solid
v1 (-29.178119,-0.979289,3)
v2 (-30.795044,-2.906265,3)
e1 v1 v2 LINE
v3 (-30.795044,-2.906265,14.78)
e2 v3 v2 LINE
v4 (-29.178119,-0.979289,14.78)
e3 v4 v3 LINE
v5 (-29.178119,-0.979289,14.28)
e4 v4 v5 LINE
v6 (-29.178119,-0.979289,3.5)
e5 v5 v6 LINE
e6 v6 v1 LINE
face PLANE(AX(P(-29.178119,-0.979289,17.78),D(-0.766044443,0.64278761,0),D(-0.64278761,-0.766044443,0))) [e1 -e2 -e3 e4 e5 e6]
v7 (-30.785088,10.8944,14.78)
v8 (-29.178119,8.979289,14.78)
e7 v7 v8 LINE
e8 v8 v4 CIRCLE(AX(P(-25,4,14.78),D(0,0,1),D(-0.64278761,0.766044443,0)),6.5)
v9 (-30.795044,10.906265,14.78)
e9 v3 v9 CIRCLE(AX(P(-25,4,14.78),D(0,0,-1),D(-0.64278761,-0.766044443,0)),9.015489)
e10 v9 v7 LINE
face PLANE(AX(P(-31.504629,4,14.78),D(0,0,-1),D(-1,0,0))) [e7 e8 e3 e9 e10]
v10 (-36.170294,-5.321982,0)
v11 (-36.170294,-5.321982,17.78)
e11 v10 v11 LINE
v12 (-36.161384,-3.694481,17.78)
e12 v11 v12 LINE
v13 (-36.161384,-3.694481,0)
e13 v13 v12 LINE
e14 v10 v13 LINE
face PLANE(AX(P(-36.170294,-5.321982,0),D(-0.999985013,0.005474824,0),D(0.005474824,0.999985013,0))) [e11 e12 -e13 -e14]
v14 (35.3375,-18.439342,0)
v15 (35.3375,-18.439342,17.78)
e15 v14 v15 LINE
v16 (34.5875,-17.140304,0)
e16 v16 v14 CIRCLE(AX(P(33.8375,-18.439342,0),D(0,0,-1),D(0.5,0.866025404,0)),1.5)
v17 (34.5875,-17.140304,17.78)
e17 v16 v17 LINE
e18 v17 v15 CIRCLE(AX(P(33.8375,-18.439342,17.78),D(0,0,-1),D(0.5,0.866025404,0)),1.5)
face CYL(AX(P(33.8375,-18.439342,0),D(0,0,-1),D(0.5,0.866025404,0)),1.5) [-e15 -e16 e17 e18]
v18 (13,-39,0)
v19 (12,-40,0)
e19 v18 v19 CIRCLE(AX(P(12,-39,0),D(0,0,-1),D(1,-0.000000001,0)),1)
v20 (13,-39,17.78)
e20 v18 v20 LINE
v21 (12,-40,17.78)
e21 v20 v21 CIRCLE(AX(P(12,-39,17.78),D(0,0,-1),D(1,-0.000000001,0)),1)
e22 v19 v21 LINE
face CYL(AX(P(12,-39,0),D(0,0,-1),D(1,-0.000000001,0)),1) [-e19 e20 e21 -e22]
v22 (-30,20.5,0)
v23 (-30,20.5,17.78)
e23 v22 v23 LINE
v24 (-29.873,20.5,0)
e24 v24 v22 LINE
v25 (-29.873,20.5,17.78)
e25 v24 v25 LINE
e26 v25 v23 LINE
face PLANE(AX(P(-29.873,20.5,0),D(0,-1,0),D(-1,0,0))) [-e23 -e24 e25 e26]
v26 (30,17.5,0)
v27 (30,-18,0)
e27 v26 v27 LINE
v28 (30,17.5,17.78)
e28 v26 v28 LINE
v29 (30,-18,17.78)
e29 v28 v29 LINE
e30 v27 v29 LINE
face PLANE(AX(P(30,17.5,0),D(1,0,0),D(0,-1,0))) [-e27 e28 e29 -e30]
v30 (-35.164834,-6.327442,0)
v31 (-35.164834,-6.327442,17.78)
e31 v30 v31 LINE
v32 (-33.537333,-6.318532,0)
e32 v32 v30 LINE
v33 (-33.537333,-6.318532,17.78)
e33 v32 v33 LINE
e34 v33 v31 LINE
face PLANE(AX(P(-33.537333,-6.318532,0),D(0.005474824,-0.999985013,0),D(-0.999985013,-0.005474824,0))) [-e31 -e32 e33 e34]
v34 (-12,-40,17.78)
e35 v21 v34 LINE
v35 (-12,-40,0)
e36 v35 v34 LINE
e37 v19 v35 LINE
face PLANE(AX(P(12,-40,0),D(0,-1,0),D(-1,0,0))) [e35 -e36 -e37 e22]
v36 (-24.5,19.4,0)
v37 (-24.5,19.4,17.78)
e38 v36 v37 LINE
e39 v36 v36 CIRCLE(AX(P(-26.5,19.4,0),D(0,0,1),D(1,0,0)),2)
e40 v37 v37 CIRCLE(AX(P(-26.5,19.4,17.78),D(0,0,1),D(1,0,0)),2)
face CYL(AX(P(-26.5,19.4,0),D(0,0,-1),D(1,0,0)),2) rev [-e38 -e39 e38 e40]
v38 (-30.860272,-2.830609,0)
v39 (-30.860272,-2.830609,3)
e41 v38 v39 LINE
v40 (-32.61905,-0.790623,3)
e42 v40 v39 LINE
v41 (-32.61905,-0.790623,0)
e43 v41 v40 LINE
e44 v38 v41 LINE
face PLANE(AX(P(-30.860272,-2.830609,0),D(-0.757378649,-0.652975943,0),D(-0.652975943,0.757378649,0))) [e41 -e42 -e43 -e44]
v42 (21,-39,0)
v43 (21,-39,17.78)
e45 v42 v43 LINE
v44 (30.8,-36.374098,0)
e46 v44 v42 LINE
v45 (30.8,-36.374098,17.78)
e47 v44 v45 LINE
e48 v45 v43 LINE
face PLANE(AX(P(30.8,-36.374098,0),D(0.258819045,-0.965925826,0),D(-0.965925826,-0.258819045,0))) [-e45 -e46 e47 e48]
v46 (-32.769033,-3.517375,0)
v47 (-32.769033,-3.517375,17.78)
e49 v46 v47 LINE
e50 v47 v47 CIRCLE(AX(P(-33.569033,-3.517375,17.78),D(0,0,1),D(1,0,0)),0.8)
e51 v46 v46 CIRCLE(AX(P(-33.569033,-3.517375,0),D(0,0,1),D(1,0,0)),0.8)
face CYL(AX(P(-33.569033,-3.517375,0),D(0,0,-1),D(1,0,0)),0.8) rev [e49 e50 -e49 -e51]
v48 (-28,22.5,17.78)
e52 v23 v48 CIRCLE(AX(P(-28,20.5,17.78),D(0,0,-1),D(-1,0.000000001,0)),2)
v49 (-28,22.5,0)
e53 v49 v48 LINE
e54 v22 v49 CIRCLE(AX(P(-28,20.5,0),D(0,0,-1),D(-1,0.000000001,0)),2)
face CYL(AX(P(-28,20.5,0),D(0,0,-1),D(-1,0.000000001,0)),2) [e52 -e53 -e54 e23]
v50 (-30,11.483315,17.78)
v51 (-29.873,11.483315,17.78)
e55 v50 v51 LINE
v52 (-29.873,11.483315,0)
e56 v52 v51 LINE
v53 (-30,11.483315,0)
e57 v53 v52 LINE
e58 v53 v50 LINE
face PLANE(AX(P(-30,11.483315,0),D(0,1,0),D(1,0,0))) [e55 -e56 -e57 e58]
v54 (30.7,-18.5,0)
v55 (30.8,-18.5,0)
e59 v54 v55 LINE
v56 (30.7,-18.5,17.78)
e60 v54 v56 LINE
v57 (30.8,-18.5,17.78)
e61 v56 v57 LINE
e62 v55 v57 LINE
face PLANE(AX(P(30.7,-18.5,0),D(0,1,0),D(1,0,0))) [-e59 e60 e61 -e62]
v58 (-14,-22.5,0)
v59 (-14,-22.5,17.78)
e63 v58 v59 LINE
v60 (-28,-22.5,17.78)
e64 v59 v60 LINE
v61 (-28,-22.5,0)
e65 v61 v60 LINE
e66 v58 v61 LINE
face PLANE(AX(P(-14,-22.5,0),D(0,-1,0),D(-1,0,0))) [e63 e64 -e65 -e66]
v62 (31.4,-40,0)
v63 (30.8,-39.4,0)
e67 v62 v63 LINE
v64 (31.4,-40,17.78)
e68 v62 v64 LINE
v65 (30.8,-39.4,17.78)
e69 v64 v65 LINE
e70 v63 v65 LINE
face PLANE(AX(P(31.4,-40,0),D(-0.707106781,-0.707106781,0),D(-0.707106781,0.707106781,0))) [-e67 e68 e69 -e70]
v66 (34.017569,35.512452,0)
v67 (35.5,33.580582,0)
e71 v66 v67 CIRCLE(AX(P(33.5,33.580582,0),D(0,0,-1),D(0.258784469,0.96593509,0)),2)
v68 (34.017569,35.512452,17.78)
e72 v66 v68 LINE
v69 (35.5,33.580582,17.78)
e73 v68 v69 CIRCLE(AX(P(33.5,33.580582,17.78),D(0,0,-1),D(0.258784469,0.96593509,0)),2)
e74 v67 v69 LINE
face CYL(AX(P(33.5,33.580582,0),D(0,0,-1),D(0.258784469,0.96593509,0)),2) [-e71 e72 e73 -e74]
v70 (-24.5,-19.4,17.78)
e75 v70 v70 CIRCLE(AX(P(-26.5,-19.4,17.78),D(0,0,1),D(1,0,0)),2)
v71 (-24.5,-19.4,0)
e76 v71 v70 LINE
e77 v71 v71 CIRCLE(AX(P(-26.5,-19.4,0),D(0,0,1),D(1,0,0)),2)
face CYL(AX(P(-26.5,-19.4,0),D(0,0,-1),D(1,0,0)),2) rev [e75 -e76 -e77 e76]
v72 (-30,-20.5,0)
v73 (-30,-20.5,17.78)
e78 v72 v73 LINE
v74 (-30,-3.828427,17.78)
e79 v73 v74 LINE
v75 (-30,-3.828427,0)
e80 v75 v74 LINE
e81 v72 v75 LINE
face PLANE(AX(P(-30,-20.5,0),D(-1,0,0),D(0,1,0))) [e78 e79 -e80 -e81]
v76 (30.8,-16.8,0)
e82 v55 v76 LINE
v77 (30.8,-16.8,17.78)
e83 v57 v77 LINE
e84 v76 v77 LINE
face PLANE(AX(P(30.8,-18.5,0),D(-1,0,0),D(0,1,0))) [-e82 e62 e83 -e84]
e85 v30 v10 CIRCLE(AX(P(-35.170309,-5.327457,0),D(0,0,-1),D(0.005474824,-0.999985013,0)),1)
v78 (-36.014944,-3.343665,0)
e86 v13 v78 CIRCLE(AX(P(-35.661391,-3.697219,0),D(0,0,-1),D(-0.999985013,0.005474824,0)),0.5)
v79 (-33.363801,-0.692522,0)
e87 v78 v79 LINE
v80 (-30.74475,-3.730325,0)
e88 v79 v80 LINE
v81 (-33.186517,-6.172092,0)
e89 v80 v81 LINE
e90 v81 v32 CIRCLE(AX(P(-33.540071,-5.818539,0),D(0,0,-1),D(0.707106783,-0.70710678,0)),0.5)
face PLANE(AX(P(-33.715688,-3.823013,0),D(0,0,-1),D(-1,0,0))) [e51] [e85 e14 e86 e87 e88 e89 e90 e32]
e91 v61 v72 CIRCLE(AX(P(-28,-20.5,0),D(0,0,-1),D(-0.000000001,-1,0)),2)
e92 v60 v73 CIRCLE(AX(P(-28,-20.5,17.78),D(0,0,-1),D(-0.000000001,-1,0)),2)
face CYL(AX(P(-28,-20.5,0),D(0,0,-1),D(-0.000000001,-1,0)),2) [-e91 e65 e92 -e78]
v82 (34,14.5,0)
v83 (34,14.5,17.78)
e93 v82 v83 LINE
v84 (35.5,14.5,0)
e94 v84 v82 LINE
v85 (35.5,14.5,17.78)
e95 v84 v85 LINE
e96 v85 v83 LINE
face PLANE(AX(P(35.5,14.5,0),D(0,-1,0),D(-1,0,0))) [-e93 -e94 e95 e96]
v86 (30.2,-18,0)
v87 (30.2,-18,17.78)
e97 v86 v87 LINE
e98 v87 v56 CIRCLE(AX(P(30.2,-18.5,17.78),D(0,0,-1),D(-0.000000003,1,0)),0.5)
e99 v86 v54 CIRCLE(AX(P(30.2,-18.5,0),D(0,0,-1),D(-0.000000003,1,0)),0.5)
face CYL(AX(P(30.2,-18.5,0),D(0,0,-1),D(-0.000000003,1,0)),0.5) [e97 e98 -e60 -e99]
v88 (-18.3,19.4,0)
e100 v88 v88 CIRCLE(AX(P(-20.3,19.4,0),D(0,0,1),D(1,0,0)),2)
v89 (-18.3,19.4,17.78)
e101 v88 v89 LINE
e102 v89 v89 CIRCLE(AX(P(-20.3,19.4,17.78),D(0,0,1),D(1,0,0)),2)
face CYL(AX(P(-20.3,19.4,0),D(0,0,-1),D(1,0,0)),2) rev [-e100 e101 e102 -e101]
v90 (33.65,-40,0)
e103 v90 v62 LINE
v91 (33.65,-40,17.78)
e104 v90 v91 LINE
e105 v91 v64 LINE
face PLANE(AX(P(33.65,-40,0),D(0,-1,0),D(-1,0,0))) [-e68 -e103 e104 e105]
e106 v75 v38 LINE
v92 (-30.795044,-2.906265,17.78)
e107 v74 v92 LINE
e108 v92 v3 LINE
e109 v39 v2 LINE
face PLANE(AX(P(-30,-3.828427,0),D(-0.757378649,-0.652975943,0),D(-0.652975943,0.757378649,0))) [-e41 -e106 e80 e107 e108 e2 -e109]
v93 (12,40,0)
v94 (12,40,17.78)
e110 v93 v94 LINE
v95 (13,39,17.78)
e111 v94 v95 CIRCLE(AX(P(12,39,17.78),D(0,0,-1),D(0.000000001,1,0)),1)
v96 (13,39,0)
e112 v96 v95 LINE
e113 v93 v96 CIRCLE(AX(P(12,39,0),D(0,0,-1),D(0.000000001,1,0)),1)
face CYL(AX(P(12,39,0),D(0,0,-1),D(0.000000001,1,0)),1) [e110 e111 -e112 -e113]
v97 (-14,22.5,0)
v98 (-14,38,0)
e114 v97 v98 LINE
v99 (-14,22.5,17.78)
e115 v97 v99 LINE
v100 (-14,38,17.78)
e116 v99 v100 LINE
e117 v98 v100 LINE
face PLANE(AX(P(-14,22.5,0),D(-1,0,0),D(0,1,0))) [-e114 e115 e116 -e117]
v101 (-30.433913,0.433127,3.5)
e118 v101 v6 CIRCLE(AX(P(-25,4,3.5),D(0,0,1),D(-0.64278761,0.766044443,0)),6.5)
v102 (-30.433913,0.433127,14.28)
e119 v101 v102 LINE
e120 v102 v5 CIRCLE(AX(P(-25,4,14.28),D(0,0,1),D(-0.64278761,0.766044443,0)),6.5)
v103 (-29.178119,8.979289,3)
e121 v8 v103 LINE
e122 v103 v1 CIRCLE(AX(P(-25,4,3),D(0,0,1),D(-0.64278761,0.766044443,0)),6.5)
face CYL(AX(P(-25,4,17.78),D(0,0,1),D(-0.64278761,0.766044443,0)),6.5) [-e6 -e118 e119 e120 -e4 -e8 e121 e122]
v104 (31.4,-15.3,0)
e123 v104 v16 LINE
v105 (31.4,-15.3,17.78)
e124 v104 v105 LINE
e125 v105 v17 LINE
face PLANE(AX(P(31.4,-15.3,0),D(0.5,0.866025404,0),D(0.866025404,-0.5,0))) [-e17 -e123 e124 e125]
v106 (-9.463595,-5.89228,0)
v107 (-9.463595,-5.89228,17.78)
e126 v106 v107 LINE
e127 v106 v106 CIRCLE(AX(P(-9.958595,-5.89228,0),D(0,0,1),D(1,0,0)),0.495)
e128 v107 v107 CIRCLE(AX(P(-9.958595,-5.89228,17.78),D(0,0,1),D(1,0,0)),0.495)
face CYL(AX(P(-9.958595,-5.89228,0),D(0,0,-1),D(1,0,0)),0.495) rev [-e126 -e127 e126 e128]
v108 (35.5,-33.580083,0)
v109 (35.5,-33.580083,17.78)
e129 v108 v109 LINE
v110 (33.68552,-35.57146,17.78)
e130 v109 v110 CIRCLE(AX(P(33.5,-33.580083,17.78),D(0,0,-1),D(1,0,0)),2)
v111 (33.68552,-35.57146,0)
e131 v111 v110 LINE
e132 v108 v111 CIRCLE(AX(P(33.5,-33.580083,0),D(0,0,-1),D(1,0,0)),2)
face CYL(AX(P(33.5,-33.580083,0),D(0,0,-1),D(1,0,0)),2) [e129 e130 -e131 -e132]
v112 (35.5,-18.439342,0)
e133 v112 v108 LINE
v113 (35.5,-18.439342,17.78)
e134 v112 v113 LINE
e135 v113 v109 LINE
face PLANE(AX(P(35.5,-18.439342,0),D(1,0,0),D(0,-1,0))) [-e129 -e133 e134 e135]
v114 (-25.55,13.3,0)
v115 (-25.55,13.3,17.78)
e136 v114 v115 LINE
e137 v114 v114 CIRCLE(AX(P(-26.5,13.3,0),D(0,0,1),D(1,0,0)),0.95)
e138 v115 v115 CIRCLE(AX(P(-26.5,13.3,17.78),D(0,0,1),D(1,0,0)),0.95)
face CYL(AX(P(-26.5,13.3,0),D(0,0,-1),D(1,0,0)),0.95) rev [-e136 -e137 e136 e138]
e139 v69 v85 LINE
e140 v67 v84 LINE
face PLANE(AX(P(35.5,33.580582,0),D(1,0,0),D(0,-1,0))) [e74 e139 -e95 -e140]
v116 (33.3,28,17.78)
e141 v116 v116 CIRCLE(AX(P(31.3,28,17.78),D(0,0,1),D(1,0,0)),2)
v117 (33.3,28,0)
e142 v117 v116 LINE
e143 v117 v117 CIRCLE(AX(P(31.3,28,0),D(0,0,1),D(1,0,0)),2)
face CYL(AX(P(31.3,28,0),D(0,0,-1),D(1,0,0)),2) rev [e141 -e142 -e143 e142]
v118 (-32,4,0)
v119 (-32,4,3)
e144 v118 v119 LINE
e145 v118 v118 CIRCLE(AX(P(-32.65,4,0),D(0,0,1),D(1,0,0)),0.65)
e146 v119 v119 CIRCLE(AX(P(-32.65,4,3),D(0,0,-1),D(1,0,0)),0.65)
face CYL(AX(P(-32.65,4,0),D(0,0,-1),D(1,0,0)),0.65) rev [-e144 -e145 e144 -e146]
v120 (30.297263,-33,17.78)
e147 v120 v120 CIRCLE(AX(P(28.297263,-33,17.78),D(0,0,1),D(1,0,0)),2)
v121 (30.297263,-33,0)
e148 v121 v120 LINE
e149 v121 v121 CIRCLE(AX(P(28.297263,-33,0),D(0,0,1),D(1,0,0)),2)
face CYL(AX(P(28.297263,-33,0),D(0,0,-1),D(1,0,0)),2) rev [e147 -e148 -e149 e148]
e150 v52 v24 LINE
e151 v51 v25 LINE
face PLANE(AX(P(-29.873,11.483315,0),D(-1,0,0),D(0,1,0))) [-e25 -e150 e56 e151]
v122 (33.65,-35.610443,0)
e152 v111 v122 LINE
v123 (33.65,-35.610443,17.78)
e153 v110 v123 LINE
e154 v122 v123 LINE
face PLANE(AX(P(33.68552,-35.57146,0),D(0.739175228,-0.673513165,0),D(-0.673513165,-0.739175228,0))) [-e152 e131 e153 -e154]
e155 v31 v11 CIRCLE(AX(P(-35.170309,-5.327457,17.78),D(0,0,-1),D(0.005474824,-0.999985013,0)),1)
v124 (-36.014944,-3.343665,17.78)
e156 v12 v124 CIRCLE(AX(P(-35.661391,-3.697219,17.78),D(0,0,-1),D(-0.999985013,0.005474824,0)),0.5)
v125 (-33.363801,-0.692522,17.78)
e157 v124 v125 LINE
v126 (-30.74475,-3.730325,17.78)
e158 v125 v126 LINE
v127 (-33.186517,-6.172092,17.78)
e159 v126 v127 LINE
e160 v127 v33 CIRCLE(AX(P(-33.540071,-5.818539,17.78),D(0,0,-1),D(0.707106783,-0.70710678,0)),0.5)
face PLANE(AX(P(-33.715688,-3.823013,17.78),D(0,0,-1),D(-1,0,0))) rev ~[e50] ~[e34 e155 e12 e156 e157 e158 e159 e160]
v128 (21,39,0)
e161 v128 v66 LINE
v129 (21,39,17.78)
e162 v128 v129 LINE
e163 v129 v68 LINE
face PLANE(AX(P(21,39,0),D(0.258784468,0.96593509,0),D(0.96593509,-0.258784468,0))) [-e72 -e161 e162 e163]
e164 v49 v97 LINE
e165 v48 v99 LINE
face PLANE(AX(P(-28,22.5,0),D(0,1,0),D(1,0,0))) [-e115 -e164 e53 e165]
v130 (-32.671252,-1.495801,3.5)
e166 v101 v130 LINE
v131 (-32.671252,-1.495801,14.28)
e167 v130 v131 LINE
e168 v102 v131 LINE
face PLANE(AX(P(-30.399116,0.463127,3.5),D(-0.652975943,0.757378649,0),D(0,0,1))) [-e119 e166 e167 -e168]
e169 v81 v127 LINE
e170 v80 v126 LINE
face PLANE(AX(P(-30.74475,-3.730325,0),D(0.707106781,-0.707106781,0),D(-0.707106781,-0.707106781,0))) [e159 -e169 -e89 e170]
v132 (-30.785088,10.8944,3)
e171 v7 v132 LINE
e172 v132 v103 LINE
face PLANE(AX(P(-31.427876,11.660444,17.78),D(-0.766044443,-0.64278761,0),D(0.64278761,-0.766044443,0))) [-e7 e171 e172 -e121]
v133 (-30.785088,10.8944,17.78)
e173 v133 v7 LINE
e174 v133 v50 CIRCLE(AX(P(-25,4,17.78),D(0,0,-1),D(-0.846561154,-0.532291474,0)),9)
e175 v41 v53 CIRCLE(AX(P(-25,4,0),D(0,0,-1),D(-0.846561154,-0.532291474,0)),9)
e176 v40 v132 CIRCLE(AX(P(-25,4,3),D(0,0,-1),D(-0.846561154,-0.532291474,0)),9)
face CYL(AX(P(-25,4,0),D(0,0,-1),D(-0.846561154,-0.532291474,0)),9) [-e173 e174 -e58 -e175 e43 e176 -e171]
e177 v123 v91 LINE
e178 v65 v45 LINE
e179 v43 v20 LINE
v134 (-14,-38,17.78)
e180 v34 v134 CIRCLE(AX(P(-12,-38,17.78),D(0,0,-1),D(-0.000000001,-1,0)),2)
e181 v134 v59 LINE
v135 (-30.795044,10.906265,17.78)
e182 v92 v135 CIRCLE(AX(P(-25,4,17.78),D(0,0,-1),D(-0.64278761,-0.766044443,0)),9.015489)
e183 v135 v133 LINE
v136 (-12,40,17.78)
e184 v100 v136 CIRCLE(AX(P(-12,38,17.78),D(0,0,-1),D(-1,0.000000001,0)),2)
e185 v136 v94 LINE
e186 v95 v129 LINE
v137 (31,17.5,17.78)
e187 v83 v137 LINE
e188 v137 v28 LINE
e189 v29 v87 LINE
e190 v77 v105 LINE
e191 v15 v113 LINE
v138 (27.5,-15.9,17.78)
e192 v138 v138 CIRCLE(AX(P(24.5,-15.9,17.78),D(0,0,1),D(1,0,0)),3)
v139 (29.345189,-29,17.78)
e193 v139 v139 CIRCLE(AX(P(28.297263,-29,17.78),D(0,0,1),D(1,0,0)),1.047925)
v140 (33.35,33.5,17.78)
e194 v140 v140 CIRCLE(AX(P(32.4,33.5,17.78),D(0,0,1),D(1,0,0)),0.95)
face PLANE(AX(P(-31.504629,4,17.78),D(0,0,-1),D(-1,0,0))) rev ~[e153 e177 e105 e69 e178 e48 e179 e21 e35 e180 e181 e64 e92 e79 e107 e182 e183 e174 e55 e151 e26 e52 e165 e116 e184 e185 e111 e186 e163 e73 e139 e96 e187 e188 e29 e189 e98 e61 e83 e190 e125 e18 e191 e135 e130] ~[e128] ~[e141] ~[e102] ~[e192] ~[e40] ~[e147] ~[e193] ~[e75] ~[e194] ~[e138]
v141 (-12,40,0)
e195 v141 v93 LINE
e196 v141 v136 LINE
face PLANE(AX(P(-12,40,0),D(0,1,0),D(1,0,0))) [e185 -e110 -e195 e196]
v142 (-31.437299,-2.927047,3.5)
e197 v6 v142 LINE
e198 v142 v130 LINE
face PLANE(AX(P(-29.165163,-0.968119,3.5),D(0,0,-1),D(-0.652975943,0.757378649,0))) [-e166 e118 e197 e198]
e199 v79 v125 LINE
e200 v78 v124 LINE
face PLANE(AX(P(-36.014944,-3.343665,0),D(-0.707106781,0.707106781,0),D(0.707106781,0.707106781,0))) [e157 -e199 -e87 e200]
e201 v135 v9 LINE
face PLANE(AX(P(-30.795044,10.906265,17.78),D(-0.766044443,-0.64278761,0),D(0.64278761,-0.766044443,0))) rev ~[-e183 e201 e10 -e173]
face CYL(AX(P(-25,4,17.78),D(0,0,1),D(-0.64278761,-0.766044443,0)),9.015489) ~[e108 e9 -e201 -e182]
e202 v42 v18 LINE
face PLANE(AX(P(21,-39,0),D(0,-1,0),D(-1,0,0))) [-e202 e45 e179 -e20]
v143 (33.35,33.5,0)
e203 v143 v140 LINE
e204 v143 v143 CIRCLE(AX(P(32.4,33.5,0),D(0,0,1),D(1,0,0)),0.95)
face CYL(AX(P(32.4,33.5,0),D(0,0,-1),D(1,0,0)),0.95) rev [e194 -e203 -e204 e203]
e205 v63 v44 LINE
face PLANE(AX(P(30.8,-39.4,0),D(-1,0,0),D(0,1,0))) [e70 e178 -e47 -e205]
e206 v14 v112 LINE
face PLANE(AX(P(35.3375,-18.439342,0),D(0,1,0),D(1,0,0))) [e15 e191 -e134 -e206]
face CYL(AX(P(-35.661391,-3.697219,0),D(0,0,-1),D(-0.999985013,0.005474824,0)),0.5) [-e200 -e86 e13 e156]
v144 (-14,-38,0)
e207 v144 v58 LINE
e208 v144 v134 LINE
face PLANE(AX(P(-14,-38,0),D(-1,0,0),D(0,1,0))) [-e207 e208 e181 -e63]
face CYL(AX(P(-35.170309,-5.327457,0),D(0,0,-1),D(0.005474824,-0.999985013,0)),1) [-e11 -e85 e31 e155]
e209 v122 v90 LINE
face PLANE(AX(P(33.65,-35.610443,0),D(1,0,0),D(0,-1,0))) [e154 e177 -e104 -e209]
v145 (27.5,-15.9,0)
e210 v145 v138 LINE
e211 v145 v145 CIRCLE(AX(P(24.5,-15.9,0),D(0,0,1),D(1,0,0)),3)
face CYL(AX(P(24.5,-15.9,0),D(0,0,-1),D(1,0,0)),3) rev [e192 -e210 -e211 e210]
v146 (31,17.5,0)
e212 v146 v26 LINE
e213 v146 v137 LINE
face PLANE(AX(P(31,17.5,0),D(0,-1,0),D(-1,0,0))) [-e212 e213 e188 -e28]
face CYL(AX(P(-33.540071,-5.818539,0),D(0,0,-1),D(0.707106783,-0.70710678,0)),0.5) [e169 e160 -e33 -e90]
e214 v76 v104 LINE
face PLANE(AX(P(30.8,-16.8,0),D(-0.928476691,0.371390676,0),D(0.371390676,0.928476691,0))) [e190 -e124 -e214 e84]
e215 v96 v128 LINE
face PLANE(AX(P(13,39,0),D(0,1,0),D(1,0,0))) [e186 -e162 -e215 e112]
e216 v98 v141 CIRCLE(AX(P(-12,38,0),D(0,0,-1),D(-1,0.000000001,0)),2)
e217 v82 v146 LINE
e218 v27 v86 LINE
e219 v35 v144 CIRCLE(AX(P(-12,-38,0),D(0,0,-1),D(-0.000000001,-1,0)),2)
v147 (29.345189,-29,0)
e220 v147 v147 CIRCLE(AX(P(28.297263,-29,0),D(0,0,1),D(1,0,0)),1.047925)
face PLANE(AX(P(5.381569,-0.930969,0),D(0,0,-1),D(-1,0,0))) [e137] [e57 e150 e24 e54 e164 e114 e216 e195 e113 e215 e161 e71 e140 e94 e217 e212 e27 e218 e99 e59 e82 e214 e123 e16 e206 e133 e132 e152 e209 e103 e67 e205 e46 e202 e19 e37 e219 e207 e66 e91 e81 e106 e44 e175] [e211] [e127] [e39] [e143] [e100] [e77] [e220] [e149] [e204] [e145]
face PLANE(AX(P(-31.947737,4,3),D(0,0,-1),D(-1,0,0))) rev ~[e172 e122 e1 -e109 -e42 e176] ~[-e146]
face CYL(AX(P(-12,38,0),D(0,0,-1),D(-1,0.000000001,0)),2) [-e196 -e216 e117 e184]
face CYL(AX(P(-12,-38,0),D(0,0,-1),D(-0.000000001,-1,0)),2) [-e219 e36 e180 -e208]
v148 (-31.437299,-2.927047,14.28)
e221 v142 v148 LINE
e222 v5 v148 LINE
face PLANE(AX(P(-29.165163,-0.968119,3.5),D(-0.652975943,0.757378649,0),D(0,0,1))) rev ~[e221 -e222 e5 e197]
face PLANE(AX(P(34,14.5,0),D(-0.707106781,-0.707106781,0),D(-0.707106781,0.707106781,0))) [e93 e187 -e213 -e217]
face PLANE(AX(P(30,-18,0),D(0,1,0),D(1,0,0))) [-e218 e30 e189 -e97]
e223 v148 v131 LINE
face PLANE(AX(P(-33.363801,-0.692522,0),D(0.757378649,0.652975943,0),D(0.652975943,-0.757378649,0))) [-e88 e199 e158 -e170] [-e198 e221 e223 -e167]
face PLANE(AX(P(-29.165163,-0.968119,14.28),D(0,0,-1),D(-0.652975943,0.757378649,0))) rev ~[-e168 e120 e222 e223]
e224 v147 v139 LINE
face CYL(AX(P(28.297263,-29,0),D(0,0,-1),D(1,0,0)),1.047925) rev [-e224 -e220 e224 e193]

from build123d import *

# Parameters (mm, degrees)
SKETCH1_R           = 0.95
SKETCH1_R_2         = 2
SKETCH1_R_3         = 3
SKETCH1_R_4         = 1.047925013
SKETCH1_R_5         = 0.495
SKETCH1_R_6         = 0.65
BOSS_EXTRUDE1_DEPTH = 17.78
CUT_EXTRUDE1_DEPTH  = 14.78
BOSS_EXTRUDE2_DEPTH = 3
SKETCH4_W           = 10.78
SKETCH4_H           = 1.889736425
CUT_EXTRUDE2_DEPTH  = 2.5
SKETCH5_W           = 10.78
SKETCH5_H           = 1.889736425
BOSS_EXTRUDE3_DEPTH = 3
SKETCH6_R           = 0.8
BOSS_EXTRUDE4_DEPTH = 17.78


with BuildPart() as part:
    # Sketch1 → Boss-Extrude1 (new body)
    with BuildSketch(Plane.XY):
        with BuildLine():
            Line((35.5, 14.5), (34, 14.5))
            Line((34, 14.5), (31, 17.5))
            Line((31, 17.5), (30, 17.5))
            Line((30, 17.5), (30, -18))
            Line((30, -18), (30.2, -18))
            ThreePointArc((30.2, -18), (30.553553391, -18.146446609), (30.7, -18.5))
            Line((30.7, -18.5), (30.8, -18.5))
            Line((30.8, -18.5), (30.8, -16.8))
            Line((30.8, -16.8), (31.4, -15.3))
            Line((31.4, -15.3), (34.5875, -17.140303983))
            ThreePointArc((34.5875, -17.140303983), (35.136538106, -17.689342089), (35.3375, -18.439342089))
            Line((35.3375, -18.439342089), (35.5, -18.439342089))
            Line((35.5, -18.439342089), (35.5, -33.580082734))
            ThreePointArc((35.5, -33.580082734), (34.978350458, -34.92710906), (33.685520077, -35.57145972))
            Line((33.685520077, -35.57145972), (33.65, -35.610442716))
            Line((33.65, -35.610442716), (33.65, -40))
            Line((33.65, -40), (31.4, -40))
            Line((31.4, -40), (30.8, -39.4))
            Line((30.8, -39.4), (30.8, -36.374097914))
            Line((30.8, -36.374097914), (21, -39))
            Line((21, -39), (13, -39))
            ThreePointArc((13, -39), (12.707106781, -39.707106781), (12, -40))
            Line((12, -40), (-12, -40))
            ThreePointArc((-12, -40), (-13.414213562, -39.414213562), (-14, -38))
            Line((-14, -38), (-14, -22.5))
            Line((-14, -22.5), (-28, -22.5))
            ThreePointArc((-28, -22.5), (-29.414213562, -21.914213562), (-30, -20.5))
            Line((-30, -20.5), (-30, -3.828427125))
            Line((-30, -3.828427125), (-30.86027165, -2.830608771))
            Line((-30.86027165, -2.830608771), (-32.619050385, -0.790623261))
            ThreePointArc((-32.619050385, -0.790623261), (-33.80184622, 5.878164829), (-30, 11.483314774))
            Line((-30, 11.483314774), (-29.873, 11.483314774))
            Line((-29.873, 11.483314774), (-29.873, 20.5))
            Line((-29.873, 20.5), (-30, 20.5))
            ThreePointArc((-30, 20.5), (-29.414213562, 21.914213562), (-28, 22.5))
            Line((-28, 22.5), (-14, 22.5))
            Line((-14, 22.5), (-14, 38))
            ThreePointArc((-14, 38), (-13.414213562, 39.414213562), (-12, 40))
            Line((-12, 40), (12, 40))
            ThreePointArc((12, 40), (12.707106781, 39.707106781), (13, 39))
            Line((13, 39), (21, 39))
            Line((21, 39), (34.017568937, 35.512452349))
            ThreePointArc((34.017568937, 35.512452349), (35.086684889, 34.798133425), (35.5, 33.580582168))
            Line((35.5, 33.580582168), (35.5, 14.5))
        make_face()
        with Locations((32.4, 33.5)):
            Circle(SKETCH1_R, mode=Mode.SUBTRACT)
        with Locations((31.3, 28)):
            Circle(SKETCH1_R_2, mode=Mode.SUBTRACT)
        with Locations((24.5, -15.9)):
            Circle(SKETCH1_R_3, mode=Mode.SUBTRACT)
        with Locations((28.297263495, -29)):
            Circle(SKETCH1_R_4, mode=Mode.SUBTRACT)
        with Locations((28.297263495, -33)):
            Circle(SKETCH1_R_2, mode=Mode.SUBTRACT)
        with Locations((-26.5, -19.4)):
            Circle(SKETCH1_R_2, mode=Mode.SUBTRACT)
        with Locations((-9.958595339, -5.892279985)):
            Circle(SKETCH1_R_5, mode=Mode.SUBTRACT)
        with Locations((-32.65, 4)):
            Circle(SKETCH1_R_6, mode=Mode.SUBTRACT)
        with Locations((-26.5, 13.3)):
            Circle(SKETCH1_R, mode=Mode.SUBTRACT)
        with Locations((-26.5, 19.4)):
            Circle(SKETCH1_R_2, mode=Mode.SUBTRACT)
        with Locations((-20.3, 19.4)):
            Circle(SKETCH1_R_2, mode=Mode.SUBTRACT)
    extrude(amount=BOSS_EXTRUDE1_DEPTH)

    # Sketch2 → Cut-Extrude1 (cut)
    with BuildSketch(Plane.XY.offset(17.78)):
        with BuildLine():
            Line((-31.427876097, 11.660444431), (-29.178119463, 8.97928888))
            ThreePointArc((-29.178119463, 8.97928888), (-31.5, 4), (-29.178119463, -0.97928888))
            Line((-29.178119463, -0.97928888), (-31.427876097, -3.660444431))
            ThreePointArc((-31.427876097, -3.660444431), (-35, 4), (-31.427876097, 11.660444431))
        make_face()
    extrude(amount=-CUT_EXTRUDE1_DEPTH, mode=Mode.SUBTRACT)

    # Sketch3 → Boss-Extrude2 (add)
    with BuildSketch(Plane.XY.offset(17.78)):
        with BuildLine():
            Line((-29.178119463, -0.97928888), (-30.795044426, -2.906265014))
            ThreePointArc((-30.795044426, -2.906265014), (-34.015488692, 4), (-30.795044426, 10.906265014))
            Line((-30.795044426, 10.906265014), (-29.178119463, 8.97928888))
            ThreePointArc((-29.178119463, 8.97928888), (-31.5, 4), (-29.178119463, -0.97928888))
        make_face()
    extrude(amount=-BOSS_EXTRUDE2_DEPTH)

    # Sketch4 → Cut-Extrude2 (cut)
    with BuildSketch(Plane(origin=(-19.102021317, -16.468856625, 0), x_dir=(0, 0, 1), z_dir=(-0.757378649, -0.652975943, 0))):
        with Locations((8.89, 19.255785792)):
            Rectangle(SKETCH4_W, SKETCH4_H)
    extrude(amount=-CUT_EXTRUDE2_DEPTH, mode=Mode.SUBTRACT)

    # Sketch5 → Boss-Extrude3 (add)
    with BuildSketch(Plane(origin=(-17.208574695, -14.836416768, 0), x_dir=(0, 0, 1), z_dir=(-0.757378649, -0.652975943, 0))):
        with Locations((8.89, 19.255785792)):
            Rectangle(SKETCH5_W, SKETCH5_H)
    extrude(amount=BOSS_EXTRUDE3_DEPTH)

    # Sketch6 → Boss-Extrude4 (add)
    with BuildSketch(Plane.XY):
        with BuildLine():
            Line((-33.363800719, -0.692521635), (-30.744750334, -3.730325499))
            Line((-30.744750334, -3.730325499), (-33.186517311, -6.172092477))
            ThreePointArc((-33.186517311, -6.172092477), (-33.347465178, -6.279953339), (-33.53733329, -6.318531593))
            Line((-33.53733329, -6.318531593), (-35.164834129, -6.327442008))
            ThreePointArc((-35.164834129, -6.327442008), (-35.877415735, -6.034563776), (-36.170293967, -5.32198217))
            Line((-36.170293967, -5.32198217), (-36.161383552, -3.69448133))
            ThreePointArc((-36.161383552, -3.69448133), (-36.122805298, -3.504613219), (-36.014944436, -3.343665352))
            Line((-36.014944436, -3.343665352), (-33.363800719, -0.692521635))
        make_face()
        with Locations((-33.569032824, -3.517375453)):
            Circle(SKETCH6_R, mode=Mode.SUBTRACT)
    extrude(amount=BOSS_EXTRUDE4_DEPTH)


solid = part.part
